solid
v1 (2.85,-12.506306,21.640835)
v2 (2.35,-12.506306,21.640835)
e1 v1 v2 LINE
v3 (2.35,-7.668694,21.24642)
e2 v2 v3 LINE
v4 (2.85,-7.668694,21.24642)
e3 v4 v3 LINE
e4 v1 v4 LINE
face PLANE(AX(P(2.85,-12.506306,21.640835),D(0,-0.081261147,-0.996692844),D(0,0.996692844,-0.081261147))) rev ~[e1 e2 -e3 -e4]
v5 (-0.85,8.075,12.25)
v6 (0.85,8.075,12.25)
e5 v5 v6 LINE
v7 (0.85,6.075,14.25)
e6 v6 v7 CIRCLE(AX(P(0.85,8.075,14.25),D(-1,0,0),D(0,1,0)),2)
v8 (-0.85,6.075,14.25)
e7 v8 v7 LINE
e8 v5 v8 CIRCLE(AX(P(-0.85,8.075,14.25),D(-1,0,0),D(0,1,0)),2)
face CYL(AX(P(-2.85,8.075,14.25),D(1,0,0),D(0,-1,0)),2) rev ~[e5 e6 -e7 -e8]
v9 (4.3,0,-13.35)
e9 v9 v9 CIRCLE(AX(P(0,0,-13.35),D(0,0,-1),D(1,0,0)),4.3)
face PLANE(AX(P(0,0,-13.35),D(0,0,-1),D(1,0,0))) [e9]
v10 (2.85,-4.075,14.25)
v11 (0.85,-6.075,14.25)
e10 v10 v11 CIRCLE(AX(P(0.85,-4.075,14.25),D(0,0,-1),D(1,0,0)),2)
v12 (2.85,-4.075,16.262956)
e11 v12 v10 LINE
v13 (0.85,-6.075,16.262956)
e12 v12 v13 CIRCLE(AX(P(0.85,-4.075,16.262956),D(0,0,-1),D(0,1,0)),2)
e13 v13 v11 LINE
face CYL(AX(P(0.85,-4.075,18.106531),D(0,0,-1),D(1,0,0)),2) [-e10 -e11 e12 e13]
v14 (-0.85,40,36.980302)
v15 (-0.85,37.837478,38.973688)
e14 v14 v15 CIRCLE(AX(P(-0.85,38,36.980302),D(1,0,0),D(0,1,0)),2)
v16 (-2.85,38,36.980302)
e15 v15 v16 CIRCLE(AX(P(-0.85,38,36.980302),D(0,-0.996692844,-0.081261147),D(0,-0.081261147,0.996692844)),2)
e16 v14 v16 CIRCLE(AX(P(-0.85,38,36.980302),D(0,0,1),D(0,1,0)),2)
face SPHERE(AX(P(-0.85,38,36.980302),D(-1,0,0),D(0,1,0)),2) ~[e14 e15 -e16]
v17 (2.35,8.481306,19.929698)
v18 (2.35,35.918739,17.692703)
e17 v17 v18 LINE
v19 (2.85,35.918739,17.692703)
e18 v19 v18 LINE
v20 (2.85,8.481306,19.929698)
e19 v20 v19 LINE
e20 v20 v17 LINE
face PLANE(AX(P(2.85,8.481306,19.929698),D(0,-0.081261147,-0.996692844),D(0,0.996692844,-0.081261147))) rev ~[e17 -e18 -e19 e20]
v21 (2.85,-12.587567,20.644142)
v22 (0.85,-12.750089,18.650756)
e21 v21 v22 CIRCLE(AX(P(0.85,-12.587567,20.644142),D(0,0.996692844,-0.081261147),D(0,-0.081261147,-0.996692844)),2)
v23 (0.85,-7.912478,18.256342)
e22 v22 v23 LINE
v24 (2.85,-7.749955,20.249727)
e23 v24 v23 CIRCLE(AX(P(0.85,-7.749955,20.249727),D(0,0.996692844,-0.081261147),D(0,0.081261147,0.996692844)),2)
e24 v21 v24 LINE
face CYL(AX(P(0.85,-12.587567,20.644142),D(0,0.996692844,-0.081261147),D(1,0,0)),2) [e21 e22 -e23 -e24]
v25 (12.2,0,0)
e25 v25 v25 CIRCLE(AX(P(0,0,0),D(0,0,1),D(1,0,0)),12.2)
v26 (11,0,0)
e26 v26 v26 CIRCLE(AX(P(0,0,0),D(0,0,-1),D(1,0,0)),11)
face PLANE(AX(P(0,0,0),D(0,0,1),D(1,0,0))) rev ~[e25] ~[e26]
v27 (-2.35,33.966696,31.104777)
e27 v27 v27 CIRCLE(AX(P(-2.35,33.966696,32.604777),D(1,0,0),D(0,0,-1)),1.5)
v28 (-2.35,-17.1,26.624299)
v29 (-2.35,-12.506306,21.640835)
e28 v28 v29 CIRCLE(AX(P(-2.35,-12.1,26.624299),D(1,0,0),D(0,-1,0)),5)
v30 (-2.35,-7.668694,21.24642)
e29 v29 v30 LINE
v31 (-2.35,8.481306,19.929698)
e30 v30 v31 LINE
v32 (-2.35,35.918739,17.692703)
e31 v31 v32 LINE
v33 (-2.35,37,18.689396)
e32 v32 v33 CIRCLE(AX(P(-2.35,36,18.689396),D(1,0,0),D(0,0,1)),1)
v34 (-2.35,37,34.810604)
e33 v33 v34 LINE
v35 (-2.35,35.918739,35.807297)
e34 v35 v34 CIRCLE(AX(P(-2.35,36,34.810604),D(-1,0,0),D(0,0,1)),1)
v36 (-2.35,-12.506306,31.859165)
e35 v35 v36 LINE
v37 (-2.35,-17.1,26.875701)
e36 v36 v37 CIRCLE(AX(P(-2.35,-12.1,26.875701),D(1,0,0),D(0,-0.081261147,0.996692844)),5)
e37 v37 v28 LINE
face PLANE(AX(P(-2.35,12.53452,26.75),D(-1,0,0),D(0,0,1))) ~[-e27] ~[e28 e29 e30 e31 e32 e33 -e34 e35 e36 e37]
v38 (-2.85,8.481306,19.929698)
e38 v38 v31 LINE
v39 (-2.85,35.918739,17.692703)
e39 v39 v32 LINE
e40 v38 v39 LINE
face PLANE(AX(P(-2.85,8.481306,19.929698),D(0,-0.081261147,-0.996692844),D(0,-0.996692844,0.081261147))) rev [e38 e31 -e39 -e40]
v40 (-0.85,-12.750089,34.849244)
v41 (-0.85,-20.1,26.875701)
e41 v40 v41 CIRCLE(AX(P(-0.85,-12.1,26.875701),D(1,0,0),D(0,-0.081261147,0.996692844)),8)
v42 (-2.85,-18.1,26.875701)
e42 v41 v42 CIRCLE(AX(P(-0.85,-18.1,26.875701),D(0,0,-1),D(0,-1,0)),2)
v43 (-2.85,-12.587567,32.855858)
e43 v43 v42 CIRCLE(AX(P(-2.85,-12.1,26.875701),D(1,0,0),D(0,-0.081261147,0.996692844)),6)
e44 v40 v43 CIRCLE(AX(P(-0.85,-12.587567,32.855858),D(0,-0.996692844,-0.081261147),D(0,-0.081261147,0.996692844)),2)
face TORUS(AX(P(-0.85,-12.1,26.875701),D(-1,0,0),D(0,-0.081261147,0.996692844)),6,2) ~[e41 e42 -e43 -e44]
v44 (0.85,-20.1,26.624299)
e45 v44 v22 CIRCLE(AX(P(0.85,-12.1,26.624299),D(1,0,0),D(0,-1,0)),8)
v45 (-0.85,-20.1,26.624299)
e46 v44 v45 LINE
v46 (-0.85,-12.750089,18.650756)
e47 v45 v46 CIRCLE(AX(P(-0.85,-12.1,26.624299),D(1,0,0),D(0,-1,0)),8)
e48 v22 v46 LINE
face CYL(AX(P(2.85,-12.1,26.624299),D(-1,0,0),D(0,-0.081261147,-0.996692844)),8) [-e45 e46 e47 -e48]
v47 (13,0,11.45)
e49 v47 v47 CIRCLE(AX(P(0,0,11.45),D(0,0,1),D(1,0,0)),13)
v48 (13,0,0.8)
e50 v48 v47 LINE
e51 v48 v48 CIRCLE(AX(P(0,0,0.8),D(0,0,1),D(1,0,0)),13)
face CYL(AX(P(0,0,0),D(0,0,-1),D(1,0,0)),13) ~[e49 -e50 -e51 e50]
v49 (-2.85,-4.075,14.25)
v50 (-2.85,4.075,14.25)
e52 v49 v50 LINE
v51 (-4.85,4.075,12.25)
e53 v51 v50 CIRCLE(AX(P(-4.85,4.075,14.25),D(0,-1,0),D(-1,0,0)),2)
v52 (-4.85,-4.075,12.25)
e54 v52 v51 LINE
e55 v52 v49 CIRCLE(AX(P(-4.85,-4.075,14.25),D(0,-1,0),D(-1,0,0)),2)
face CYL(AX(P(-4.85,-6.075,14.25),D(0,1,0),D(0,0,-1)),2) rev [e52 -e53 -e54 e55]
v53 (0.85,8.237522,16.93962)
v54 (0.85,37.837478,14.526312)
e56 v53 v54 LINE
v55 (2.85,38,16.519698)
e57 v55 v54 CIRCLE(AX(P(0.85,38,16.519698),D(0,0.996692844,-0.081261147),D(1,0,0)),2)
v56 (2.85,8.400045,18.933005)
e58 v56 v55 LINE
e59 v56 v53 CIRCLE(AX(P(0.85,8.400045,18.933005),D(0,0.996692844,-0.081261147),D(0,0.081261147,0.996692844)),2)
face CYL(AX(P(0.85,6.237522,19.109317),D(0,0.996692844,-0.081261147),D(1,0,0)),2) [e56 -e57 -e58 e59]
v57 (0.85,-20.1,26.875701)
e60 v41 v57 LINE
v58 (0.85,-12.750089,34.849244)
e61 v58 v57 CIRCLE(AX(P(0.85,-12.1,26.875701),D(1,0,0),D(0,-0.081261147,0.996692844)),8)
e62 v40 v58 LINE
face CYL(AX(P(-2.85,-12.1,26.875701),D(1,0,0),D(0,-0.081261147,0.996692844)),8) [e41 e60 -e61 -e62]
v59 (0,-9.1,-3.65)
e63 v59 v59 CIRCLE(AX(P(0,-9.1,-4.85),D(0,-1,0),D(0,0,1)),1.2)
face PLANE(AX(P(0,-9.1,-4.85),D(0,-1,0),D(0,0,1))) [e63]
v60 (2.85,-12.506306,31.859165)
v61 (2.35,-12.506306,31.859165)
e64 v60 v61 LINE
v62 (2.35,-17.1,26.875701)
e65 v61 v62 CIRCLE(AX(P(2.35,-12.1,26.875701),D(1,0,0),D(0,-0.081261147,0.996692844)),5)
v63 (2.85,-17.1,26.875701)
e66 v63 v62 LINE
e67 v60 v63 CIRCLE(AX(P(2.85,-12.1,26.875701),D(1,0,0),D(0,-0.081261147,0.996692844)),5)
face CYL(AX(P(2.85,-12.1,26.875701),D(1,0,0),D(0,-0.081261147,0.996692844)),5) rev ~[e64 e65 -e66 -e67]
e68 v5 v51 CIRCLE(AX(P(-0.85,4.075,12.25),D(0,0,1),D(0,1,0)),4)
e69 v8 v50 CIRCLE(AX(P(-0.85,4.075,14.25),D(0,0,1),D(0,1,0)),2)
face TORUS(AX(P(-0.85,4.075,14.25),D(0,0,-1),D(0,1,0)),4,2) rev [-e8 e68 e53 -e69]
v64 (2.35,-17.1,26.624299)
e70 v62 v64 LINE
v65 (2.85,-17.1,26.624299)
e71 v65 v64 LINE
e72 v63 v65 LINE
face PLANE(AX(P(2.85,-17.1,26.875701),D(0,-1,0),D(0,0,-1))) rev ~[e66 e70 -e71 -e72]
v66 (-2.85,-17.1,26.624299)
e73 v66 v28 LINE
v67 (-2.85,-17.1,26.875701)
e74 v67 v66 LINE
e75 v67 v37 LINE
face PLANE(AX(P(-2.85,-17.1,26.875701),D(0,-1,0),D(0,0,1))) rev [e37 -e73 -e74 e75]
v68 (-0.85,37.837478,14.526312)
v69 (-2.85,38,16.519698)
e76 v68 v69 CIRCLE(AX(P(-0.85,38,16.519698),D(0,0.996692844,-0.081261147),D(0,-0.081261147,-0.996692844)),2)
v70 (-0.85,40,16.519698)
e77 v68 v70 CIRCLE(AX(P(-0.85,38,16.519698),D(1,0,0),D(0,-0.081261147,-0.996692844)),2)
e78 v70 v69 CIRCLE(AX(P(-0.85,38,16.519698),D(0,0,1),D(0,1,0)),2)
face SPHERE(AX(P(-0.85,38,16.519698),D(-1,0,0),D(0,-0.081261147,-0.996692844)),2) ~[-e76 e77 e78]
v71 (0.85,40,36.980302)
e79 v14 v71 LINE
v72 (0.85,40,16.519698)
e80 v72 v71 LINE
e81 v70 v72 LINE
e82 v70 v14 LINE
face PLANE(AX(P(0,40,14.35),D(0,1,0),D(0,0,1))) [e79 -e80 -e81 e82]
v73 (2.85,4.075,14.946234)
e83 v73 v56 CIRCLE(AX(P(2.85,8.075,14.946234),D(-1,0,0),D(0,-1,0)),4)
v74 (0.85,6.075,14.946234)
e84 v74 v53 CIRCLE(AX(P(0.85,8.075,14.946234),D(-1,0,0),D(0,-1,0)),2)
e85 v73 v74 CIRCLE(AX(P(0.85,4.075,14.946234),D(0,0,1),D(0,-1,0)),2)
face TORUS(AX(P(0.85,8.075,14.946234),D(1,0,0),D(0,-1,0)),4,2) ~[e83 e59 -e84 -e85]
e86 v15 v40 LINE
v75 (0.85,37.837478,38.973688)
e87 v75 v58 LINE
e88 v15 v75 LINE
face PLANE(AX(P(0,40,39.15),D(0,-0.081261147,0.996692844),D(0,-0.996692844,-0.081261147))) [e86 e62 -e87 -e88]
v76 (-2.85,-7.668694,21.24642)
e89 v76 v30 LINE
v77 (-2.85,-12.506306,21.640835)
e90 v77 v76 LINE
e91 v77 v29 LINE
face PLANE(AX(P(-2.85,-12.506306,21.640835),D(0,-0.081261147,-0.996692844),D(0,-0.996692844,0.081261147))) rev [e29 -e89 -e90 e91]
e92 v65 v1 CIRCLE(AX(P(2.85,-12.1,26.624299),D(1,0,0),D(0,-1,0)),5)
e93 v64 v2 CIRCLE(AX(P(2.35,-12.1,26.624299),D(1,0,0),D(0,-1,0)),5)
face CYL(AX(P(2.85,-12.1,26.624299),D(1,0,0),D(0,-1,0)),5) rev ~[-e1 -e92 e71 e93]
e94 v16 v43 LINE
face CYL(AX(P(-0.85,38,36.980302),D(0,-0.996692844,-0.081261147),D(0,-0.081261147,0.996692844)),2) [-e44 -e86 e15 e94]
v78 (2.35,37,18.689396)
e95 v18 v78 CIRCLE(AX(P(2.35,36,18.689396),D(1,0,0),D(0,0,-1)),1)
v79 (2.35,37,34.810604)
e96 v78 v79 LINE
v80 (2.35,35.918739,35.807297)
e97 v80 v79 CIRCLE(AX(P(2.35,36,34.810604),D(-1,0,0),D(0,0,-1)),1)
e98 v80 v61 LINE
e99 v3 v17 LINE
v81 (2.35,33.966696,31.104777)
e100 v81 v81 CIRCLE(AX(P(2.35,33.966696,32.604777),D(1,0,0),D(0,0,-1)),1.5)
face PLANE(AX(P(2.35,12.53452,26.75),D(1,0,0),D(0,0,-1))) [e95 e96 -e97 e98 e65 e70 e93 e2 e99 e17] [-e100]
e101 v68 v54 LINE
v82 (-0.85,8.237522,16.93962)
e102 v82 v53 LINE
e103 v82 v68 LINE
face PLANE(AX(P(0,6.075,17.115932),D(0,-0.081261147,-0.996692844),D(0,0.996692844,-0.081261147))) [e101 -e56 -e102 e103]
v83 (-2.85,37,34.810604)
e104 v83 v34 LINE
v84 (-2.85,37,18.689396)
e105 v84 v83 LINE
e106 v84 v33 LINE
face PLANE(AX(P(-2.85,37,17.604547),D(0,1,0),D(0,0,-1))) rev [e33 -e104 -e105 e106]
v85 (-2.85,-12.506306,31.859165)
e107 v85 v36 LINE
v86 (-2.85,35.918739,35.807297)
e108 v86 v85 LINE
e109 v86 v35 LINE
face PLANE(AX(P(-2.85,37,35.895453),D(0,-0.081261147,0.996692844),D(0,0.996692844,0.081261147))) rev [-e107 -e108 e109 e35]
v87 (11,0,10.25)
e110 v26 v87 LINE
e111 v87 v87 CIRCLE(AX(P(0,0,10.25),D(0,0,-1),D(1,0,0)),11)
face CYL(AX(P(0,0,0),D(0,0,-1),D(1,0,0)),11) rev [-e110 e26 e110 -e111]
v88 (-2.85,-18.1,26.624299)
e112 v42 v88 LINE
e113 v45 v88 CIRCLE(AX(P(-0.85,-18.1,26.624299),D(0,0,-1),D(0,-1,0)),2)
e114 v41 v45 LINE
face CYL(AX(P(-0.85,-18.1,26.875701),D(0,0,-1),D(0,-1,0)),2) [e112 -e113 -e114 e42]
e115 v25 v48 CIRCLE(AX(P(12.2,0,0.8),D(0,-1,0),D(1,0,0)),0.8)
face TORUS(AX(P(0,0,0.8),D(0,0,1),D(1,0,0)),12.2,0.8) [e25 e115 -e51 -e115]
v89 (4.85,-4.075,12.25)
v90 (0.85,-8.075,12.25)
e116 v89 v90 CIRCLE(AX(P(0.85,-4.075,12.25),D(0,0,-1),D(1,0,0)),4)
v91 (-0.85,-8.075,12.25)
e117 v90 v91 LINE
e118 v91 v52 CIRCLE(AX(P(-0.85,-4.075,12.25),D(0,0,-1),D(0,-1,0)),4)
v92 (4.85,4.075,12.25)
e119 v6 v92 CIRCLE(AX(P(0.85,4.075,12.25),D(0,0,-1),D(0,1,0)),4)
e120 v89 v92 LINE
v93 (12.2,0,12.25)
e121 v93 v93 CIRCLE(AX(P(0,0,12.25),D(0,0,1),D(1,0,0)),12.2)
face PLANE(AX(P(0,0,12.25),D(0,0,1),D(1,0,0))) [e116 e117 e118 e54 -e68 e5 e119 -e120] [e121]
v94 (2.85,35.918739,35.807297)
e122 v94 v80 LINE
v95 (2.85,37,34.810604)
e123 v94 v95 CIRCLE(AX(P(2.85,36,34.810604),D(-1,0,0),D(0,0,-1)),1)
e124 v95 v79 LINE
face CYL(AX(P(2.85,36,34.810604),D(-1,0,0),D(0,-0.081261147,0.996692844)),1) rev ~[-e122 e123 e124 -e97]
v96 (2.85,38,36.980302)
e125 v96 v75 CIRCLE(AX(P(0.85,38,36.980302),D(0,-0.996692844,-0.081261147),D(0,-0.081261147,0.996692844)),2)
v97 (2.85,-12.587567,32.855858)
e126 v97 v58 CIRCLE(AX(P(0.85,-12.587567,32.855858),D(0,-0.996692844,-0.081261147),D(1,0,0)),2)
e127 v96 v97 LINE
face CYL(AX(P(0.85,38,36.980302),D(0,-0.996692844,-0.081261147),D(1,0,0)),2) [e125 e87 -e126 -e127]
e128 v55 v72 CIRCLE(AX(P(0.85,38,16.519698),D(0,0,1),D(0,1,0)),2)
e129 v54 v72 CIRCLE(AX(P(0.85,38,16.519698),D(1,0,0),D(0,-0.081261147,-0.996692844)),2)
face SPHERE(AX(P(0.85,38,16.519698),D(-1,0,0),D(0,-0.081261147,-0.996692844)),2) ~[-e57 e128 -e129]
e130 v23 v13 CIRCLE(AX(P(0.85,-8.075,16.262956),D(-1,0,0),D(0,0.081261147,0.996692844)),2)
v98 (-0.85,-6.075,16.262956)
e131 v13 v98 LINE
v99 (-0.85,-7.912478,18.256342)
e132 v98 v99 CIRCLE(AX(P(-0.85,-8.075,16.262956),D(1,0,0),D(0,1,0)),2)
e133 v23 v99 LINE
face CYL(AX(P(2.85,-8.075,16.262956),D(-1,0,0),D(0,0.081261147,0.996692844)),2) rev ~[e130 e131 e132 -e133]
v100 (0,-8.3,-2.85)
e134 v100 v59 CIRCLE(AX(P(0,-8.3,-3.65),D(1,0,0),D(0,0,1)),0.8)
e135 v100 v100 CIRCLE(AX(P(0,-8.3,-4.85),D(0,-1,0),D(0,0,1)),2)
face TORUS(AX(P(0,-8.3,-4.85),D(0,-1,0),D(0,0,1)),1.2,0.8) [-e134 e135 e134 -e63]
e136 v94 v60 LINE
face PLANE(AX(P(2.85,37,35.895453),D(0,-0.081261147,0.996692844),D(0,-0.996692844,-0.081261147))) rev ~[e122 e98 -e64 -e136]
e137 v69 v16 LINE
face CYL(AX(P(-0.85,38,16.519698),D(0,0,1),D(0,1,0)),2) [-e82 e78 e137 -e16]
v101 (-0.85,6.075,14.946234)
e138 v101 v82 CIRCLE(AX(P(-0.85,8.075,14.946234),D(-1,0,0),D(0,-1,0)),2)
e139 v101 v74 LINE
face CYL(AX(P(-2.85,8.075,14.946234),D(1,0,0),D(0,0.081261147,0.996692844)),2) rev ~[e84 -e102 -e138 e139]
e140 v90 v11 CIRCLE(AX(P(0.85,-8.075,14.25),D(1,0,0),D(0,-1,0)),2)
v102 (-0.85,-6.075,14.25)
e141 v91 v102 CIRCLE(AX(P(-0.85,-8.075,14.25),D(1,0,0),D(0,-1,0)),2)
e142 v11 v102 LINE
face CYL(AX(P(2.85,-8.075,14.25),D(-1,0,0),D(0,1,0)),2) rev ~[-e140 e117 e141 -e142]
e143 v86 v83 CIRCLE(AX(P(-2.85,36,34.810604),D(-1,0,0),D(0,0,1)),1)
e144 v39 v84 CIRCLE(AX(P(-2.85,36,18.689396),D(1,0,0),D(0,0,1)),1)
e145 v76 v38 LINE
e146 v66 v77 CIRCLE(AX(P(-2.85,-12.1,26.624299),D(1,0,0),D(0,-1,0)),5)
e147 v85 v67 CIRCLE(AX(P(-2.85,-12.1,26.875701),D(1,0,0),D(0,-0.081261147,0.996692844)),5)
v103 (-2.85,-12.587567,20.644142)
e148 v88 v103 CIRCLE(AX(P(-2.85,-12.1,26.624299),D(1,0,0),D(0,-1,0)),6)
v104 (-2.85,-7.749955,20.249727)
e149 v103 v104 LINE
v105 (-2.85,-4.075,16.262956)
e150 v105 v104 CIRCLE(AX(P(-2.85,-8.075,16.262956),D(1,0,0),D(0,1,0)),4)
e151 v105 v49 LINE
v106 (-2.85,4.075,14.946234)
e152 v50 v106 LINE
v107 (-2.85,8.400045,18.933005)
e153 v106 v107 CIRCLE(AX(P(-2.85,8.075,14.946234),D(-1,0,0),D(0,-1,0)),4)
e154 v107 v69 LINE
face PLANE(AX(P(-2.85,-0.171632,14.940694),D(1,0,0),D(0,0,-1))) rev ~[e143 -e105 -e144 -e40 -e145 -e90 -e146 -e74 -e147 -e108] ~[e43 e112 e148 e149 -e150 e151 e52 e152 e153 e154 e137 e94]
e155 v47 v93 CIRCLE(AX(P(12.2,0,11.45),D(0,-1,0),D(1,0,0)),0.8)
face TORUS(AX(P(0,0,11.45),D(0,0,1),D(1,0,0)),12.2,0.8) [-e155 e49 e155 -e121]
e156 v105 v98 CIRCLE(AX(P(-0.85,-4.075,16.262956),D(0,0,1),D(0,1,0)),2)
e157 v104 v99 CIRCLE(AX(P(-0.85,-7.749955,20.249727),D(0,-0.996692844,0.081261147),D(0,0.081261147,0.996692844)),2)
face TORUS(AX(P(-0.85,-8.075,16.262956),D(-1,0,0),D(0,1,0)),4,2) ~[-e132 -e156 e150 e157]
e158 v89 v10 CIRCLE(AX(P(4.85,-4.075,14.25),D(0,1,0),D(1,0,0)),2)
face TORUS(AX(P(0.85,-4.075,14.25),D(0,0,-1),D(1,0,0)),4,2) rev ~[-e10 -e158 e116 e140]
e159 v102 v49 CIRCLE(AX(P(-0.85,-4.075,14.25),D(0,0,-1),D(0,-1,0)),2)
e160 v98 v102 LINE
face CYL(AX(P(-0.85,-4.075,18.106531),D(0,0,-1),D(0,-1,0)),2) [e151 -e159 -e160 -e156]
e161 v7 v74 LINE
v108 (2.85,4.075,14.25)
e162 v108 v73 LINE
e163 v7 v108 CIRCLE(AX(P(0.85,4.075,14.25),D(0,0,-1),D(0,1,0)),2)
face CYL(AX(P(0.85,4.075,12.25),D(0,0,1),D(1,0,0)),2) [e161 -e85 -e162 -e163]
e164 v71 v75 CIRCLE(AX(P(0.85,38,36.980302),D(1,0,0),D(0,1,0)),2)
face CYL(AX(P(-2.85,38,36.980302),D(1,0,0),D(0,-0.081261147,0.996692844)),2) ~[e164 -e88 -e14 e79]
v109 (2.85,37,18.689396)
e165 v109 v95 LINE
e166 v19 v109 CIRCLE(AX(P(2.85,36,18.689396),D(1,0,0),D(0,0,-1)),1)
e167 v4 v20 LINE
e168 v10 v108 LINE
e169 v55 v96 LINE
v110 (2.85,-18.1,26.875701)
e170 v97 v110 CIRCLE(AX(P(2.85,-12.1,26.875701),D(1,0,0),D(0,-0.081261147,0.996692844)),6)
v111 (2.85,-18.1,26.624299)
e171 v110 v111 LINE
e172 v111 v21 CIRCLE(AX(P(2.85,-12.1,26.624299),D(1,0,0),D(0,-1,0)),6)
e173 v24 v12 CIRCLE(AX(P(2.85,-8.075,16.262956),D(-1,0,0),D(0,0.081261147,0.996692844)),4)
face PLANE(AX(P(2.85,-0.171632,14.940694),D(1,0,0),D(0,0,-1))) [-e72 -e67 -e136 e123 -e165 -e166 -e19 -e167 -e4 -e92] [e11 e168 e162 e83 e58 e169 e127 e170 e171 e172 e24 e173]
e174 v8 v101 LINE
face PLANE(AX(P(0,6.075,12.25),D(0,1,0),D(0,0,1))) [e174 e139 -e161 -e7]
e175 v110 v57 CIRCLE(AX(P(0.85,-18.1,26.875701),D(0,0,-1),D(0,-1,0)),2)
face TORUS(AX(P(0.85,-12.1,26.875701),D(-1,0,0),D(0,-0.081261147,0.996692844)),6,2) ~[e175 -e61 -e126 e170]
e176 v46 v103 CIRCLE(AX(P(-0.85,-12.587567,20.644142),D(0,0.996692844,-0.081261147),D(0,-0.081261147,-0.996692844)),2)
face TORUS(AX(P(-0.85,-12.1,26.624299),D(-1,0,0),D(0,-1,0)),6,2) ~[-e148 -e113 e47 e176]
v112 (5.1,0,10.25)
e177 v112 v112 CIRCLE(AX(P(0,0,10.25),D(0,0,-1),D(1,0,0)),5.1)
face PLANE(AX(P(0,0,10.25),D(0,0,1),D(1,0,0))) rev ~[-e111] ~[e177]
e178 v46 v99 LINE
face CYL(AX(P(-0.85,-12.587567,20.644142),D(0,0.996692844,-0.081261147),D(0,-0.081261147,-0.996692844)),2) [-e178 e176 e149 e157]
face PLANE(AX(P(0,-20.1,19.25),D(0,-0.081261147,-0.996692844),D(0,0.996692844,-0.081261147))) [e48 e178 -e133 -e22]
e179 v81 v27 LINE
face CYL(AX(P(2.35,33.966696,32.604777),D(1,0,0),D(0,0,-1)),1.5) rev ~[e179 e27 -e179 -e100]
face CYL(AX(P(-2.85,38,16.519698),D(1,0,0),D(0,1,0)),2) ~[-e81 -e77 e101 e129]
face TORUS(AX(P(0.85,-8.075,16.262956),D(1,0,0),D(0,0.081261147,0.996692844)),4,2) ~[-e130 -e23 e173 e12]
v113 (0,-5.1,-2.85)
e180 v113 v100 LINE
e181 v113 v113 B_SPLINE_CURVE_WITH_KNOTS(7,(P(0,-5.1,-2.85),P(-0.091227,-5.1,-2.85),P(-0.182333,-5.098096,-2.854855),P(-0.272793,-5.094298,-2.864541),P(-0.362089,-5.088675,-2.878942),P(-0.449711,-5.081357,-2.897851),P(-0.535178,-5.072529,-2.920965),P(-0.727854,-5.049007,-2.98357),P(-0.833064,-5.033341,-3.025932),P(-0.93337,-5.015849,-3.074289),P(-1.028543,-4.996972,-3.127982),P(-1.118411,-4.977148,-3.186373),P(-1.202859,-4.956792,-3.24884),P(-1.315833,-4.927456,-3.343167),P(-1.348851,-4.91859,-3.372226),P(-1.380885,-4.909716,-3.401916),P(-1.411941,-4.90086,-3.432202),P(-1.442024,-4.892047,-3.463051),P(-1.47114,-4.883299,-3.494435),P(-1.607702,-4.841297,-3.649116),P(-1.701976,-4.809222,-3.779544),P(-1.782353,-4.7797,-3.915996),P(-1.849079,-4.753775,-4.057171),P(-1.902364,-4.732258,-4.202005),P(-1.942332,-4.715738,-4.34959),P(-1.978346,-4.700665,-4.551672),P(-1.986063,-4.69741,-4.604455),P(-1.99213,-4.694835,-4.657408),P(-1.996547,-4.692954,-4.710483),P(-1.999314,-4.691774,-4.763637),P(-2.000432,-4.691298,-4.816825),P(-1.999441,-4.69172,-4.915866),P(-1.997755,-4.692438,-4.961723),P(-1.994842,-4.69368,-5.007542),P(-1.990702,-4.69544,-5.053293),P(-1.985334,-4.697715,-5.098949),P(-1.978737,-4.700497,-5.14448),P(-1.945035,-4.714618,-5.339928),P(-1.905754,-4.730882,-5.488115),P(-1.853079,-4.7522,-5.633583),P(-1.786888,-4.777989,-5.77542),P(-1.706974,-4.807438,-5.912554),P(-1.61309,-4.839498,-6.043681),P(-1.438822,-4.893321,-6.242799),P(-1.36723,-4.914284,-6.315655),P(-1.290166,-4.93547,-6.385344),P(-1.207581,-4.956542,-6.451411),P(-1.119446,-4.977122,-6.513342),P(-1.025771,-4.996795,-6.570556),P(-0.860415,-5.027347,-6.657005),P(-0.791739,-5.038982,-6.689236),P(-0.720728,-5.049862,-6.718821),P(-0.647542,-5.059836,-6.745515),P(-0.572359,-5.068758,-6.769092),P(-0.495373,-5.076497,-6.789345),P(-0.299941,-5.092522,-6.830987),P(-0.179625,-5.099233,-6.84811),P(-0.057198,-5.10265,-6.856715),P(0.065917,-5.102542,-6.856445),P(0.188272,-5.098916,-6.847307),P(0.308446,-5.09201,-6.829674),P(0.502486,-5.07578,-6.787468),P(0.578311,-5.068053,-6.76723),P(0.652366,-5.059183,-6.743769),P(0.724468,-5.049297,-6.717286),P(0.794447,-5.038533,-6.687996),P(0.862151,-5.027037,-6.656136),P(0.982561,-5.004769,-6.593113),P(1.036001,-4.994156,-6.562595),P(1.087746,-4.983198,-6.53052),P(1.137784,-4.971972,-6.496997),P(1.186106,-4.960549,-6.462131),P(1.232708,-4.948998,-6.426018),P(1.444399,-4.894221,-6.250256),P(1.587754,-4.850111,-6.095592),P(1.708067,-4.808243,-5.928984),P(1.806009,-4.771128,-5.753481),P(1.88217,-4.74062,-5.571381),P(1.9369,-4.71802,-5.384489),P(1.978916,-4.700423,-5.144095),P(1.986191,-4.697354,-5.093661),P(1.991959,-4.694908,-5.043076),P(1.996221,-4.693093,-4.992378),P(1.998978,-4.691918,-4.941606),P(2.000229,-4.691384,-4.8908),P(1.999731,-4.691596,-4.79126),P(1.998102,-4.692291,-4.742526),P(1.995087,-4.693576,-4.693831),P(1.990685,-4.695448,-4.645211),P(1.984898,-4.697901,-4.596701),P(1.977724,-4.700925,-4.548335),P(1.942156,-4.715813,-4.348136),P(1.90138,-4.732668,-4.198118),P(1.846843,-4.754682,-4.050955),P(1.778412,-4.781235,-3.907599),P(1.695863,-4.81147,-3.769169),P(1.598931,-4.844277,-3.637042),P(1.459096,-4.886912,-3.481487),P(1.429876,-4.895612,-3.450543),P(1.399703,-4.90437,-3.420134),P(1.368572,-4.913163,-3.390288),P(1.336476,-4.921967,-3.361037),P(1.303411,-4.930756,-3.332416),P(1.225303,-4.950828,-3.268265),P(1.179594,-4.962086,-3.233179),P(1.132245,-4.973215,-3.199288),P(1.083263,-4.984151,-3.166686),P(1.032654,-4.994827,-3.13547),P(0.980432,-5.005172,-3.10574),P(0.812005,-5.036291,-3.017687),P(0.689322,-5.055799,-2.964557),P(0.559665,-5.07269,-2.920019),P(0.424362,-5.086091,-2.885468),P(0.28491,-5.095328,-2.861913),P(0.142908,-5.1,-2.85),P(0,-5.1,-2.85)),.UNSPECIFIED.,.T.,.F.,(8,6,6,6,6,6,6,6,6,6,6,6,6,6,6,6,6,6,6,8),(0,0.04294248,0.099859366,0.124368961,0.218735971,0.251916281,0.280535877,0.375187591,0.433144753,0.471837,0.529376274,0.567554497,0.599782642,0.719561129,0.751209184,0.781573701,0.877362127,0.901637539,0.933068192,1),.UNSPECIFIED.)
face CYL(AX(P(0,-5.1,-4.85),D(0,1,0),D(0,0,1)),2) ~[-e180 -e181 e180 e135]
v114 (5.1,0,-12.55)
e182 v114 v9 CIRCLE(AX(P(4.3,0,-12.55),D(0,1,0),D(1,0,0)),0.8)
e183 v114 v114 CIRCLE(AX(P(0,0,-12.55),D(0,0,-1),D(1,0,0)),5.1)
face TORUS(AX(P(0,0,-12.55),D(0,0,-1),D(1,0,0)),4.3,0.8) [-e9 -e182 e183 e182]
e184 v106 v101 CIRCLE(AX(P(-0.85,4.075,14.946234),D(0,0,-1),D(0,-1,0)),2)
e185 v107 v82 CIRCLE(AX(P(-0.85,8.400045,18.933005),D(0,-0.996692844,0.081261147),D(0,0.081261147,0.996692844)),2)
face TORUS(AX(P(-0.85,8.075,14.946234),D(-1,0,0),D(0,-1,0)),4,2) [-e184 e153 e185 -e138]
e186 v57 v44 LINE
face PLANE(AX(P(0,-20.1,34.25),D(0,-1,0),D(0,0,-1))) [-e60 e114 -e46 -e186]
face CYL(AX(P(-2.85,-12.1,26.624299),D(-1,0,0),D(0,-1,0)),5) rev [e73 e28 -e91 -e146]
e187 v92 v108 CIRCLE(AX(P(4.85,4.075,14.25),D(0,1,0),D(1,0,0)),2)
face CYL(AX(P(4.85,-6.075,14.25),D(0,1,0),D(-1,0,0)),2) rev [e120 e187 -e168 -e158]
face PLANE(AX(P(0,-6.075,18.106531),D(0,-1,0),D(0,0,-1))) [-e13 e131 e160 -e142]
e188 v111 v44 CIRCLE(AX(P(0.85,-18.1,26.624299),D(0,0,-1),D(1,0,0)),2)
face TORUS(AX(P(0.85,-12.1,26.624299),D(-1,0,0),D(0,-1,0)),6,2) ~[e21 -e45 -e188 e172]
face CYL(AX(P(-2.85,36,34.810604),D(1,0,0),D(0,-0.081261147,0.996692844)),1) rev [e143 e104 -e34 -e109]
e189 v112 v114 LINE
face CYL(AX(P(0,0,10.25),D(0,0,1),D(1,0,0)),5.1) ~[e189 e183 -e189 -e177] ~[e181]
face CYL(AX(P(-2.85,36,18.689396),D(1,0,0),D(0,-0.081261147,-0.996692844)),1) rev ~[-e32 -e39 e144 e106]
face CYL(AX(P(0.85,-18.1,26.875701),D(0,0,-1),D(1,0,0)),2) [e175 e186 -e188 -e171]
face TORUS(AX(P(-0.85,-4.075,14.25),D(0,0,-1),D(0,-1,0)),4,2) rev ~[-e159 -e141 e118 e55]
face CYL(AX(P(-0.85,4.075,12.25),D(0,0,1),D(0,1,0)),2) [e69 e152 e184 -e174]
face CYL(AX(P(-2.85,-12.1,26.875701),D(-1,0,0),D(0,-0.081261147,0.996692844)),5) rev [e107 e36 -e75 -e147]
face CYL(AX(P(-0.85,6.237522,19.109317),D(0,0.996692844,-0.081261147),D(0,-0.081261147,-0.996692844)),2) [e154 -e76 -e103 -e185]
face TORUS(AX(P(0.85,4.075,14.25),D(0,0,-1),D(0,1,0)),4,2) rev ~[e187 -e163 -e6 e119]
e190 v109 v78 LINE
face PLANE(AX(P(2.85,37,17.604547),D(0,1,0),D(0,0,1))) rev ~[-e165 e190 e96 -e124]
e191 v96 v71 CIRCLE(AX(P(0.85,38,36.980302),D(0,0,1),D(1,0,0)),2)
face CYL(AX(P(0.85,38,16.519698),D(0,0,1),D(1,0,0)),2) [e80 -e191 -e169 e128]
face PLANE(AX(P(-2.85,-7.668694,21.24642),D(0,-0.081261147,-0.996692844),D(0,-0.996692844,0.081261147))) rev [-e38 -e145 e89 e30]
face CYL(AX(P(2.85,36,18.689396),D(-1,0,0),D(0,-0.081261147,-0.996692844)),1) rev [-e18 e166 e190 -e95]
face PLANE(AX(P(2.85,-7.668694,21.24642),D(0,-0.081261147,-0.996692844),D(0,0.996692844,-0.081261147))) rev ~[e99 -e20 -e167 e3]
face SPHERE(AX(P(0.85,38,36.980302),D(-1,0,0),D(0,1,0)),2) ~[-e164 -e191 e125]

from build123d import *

# Parameters (mm, degrees)
SKETCH1_R                            = 13
BOSS_EXTRUDE1_DEPTH                  = 12.25
SHELL1_T                             = -2
SKETCH2_R                            = 5.1
BOSS_EXTRUDE2_DEPTH                  = 23.6
BOSS_EXTRUDE3_DEPTH                  = 2.85
SKETCH4_R                            = 2
BOSS_EXTRUDE4_DEPTH                  = 4
BOSS_EXTRUDE4_DIRECTION_2_REACH      = 63.121
BOSS_EXTRUDE4_DIRECTION_2_END_RADIUS = 5.1
FILLET1_R                            = 0.8
FILLET2_R                            = 0.8
FILLET3_R                            = 8
FILLET4_R                            = 2
FILLET5_R                            = 2
CUT_EXTRUDE1_DEPTH                   = 0.5
FILLET6_R                            = 1
FILLET6_OF_MIRROR1_R                 = 1
SKETCH6_R                            = 1.5
CUT_EXTRUDE2_DEPTH                   = 58.923108151


with BuildPart() as part:
    # Sketch1 → Boss-Extrude1 (new body)
    with BuildSketch(Plane.XY):
        Circle(SKETCH1_R)
    extrude(amount=BOSS_EXTRUDE1_DEPTH)

    # Shell1
    shell1_openings = [part.faces().sort_by_distance(p)[0] for p in [
        (0, 0, 0),
    ]]
    offset(amount=SHELL1_T, openings=shell1_openings, kind=Kind.INTERSECTION)

    # Sketch2 → Boss-Extrude2 (add)
    with BuildSketch(Plane(origin=(0, 0, 10.25), x_dir=(-1, 0, 0), z_dir=(0, 0, -1))):
        with Locations(Location((0, 0, 0), (0, 0, 180))):
            Circle(SKETCH2_R)
    extrude(amount=BOSS_EXTRUDE2_DEPTH)

    # Sketch3 → Boss-Extrude3 (add, symmetric)
    with BuildSketch(Plane(origin=(0, 0, 0), x_dir=(0, 0, -1), z_dir=(1, 0, 0))):
        Polygon((-12.25, -6.075), (-12.25, 6.075), (-17.11593178, 6.075), (-18.106530782, -6.075), align=None)
        Polygon((-18.106530782, -6.075), (-17.11593178, 6.075), (-14.35, 40), (-26.75, 40), (-26.75, -20.1), (-19.25, -20.1), align=None)
        Polygon((-26.75, -20.1), (-26.75, 40), (-39.15, 40), (-34.25, -20.1), align=None)
    extrude(amount=BOSS_EXTRUDE3_DEPTH, both=True)

    # Sketch4 → Boss-Extrude4 (add)
    with BuildSketch(Plane(origin=(0, -5.1, 0), x_dir=(-1, 0, 0), z_dir=(0, -1, 0))):
        with Locations(Location((0, 4.85, 0), (0, 0, 270))):
            Circle(SKETCH4_R)
    extrude(amount=BOSS_EXTRUDE4_DEPTH)

    # Boss-Extrude4 direction 2: up to this cylinder (the profile starts outside it)
    boss_extrude4_direction_2_end = Plane(origin=(0, 0, -4.85), z_dir=(0, 0, 1)) * Cylinder(BOSS_EXTRUDE4_DIRECTION_2_END_RADIUS, 137.442, mode=Mode.PRIVATE)
    # Sketch4 → Boss-Extrude4 direction 2 (add, up to the surface)
    with BuildSketch(Plane(origin=(0, -5.1, 0), x_dir=(-1, 0, 0), z_dir=(0, -1, 0)), mode=Mode.PRIVATE) as boss_extrude4_direction_2_sk1:
        with Locations(Location((0, 4.85, 0), (0, 0, 270))):
            Circle(SKETCH4_R)
    boss_extrude4_direction_2_tool1 = extrude(boss_extrude4_direction_2_sk1.sketch, amount=-BOSS_EXTRUDE4_DIRECTION_2_REACH, mode=Mode.PRIVATE) - boss_extrude4_direction_2_end
    add(boss_extrude4_direction_2_tool1.solids().sort_by_distance((0, -5.1, -4.85))[0])
    add(boss_extrude4_direction_2_tool1.solids().sort_by_distance((0, -5.1, -4.85))[1])

    # Fillet1
    fillet1_edges = [part.edges().sort_by_distance(p)[0] for p in [
        (0, -9.1, -6.85),
    ]]
    fillet(fillet1_edges, radius=FILLET1_R)

    # Fillet2
    fillet2_edges = [part.edges().sort_by_distance(p)[0] for p in [
        (-5.1, 0, -13.35),
        (-13, 0, 0),
        (-13, 0, 12.25),
    ]]
    fillet(fillet2_edges, radius=FILLET2_R)

    # Fillet3
    fillet3_edges = [part.edges().sort_by_distance(p)[0] for p in [
        (0, -20.1, 34.25),
        (0, -20.1, 19.25),
    ]]
    fillet(fillet3_edges, radius=FILLET3_R)

    # Fillet4
    fillet4_edges = [part.edges().sort_by_distance(p)[0] for p in [
        (0, 40, 14.35),
        (0, 40, 39.15),
    ]]
    fillet(fillet4_edges, radius=FILLET4_R)

    # Fillet5
    fillet5_edges = [part.edges().sort_by_distance(p)[0] for p in [
        (-2.85, 6.075, 14.68296589),
        (0, 6.075, 12.25),
        (-2.85, 21.956238853, 15.821121957),
        (0, 6.075, 17.11593178),
        (2.85, -6.075, 15.178265391),
        (0, -6.075, 18.106530782),
        (2.85, 0, 12.25),
        (0, -6.075, 12.25),
        (2.85, 6.075, 14.68296589),
        (2.85, 21.956238853, 15.821121957),
        (-2.85, 0, 12.25),
        (-2.85, -6.075, 15.178265391),
        (-2.85, -20.1, 26.75),
        (2.85, -20.1, 26.75),
        (-2.85, -9.412544588, 18.378643402),
        (-2.85, -17.982206789, 21.202154986),
        (-2.85, -17.982206789, 32.297845014),
        (2.85, -9.412544588, 18.378643402),
        (2.85, -17.982206789, 21.202154986),
        (2.85, -17.982206789, 32.297845014),
        (-2.85, 12.543694265, 36.911465922),
        (2.85, 12.543694265, 36.911465922),
        (-2.85, 40, 26.75),
        (-2.85, 39.355535948, 15.049146125),
        (-2.85, 39.355535948, 38.450853875),
        (2.85, 40, 26.75),
        (2.85, 39.355535948, 15.049146125),
        (2.85, 39.355535948, 38.450853875),
    ]]
    fillet(fillet5_edges, radius=FILLET5_R)

    # Sketch5 → Cut-Extrude1 (cut)
    with BuildSketch(Plane(origin=(2.85, 0, 0), x_dir=(0, 0, -1), z_dir=(1, 0, 0))):
        with BuildLine():
            Line((-35.895453266, 37), (-31.859165444, -12.506305735))
            ThreePointArc((-31.859165444, -12.506305735), (-30.264541092, -15.776379243), (-26.875701222, -17.1))
            Line((-26.875701222, -17.1), (-26.624298778, -17.1))
            ThreePointArc((-26.624298778, -17.1), (-23.235458908, -15.776379243), (-21.640834556, -12.506305735))
            Line((-21.640834556, -12.506305735), (-21.246420309, -7.668694265))
            Line((-21.246420309, -7.668694265), (-19.92969818, 8.481305735))
            Line((-19.92969818, 8.481305735), (-17.604546734, 37))
            Line((-17.604546734, 37), (-35.895453266, 37))
        make_face()
    cut_extrude1 = extrude(amount=-CUT_EXTRUDE1_DEPTH, mode=Mode.SUBTRACT)

    # Fillet6
    fillet6_edges = [part.edges().sort_by_distance(p)[0] for p in [
        (2.6, 37, 35.895453266),
        (2.6, 37, 17.604546734),
    ]]
    fillet(fillet6_edges, radius=FILLET6_R)

    # Mirror1: Cut-Extrude1 across plane
    add(cut_extrude1.mirror(Plane(origin=(0, 0, 0), x_dir=(0, 0, 1), z_dir=(1, 0, 0))), mode=Mode.SUBTRACT)

    # Fillet6 of Mirror1
    fillet6_of_mirror1_edges = [part.edges().sort_by_distance(p)[0] for p in [
        (-2.6, 37, 35.895453266),
        (-2.6, 37, 17.604546734),
    ]]
    fillet(fillet6_of_mirror1_edges, radius=FILLET6_OF_MIRROR1_R)

    # Sketch6 → Cut-Extrude2 (cut, through all)
    with BuildSketch(Plane(origin=(2.35, 0, 0), x_dir=(0, 0, -1), z_dir=(1, 0, 0))):
        with Locations((-32.604776809, 33.966696078)):
            Circle(SKETCH6_R)
    extrude(amount=-CUT_EXTRUDE2_DEPTH, mode=Mode.SUBTRACT)


solid = part.part
